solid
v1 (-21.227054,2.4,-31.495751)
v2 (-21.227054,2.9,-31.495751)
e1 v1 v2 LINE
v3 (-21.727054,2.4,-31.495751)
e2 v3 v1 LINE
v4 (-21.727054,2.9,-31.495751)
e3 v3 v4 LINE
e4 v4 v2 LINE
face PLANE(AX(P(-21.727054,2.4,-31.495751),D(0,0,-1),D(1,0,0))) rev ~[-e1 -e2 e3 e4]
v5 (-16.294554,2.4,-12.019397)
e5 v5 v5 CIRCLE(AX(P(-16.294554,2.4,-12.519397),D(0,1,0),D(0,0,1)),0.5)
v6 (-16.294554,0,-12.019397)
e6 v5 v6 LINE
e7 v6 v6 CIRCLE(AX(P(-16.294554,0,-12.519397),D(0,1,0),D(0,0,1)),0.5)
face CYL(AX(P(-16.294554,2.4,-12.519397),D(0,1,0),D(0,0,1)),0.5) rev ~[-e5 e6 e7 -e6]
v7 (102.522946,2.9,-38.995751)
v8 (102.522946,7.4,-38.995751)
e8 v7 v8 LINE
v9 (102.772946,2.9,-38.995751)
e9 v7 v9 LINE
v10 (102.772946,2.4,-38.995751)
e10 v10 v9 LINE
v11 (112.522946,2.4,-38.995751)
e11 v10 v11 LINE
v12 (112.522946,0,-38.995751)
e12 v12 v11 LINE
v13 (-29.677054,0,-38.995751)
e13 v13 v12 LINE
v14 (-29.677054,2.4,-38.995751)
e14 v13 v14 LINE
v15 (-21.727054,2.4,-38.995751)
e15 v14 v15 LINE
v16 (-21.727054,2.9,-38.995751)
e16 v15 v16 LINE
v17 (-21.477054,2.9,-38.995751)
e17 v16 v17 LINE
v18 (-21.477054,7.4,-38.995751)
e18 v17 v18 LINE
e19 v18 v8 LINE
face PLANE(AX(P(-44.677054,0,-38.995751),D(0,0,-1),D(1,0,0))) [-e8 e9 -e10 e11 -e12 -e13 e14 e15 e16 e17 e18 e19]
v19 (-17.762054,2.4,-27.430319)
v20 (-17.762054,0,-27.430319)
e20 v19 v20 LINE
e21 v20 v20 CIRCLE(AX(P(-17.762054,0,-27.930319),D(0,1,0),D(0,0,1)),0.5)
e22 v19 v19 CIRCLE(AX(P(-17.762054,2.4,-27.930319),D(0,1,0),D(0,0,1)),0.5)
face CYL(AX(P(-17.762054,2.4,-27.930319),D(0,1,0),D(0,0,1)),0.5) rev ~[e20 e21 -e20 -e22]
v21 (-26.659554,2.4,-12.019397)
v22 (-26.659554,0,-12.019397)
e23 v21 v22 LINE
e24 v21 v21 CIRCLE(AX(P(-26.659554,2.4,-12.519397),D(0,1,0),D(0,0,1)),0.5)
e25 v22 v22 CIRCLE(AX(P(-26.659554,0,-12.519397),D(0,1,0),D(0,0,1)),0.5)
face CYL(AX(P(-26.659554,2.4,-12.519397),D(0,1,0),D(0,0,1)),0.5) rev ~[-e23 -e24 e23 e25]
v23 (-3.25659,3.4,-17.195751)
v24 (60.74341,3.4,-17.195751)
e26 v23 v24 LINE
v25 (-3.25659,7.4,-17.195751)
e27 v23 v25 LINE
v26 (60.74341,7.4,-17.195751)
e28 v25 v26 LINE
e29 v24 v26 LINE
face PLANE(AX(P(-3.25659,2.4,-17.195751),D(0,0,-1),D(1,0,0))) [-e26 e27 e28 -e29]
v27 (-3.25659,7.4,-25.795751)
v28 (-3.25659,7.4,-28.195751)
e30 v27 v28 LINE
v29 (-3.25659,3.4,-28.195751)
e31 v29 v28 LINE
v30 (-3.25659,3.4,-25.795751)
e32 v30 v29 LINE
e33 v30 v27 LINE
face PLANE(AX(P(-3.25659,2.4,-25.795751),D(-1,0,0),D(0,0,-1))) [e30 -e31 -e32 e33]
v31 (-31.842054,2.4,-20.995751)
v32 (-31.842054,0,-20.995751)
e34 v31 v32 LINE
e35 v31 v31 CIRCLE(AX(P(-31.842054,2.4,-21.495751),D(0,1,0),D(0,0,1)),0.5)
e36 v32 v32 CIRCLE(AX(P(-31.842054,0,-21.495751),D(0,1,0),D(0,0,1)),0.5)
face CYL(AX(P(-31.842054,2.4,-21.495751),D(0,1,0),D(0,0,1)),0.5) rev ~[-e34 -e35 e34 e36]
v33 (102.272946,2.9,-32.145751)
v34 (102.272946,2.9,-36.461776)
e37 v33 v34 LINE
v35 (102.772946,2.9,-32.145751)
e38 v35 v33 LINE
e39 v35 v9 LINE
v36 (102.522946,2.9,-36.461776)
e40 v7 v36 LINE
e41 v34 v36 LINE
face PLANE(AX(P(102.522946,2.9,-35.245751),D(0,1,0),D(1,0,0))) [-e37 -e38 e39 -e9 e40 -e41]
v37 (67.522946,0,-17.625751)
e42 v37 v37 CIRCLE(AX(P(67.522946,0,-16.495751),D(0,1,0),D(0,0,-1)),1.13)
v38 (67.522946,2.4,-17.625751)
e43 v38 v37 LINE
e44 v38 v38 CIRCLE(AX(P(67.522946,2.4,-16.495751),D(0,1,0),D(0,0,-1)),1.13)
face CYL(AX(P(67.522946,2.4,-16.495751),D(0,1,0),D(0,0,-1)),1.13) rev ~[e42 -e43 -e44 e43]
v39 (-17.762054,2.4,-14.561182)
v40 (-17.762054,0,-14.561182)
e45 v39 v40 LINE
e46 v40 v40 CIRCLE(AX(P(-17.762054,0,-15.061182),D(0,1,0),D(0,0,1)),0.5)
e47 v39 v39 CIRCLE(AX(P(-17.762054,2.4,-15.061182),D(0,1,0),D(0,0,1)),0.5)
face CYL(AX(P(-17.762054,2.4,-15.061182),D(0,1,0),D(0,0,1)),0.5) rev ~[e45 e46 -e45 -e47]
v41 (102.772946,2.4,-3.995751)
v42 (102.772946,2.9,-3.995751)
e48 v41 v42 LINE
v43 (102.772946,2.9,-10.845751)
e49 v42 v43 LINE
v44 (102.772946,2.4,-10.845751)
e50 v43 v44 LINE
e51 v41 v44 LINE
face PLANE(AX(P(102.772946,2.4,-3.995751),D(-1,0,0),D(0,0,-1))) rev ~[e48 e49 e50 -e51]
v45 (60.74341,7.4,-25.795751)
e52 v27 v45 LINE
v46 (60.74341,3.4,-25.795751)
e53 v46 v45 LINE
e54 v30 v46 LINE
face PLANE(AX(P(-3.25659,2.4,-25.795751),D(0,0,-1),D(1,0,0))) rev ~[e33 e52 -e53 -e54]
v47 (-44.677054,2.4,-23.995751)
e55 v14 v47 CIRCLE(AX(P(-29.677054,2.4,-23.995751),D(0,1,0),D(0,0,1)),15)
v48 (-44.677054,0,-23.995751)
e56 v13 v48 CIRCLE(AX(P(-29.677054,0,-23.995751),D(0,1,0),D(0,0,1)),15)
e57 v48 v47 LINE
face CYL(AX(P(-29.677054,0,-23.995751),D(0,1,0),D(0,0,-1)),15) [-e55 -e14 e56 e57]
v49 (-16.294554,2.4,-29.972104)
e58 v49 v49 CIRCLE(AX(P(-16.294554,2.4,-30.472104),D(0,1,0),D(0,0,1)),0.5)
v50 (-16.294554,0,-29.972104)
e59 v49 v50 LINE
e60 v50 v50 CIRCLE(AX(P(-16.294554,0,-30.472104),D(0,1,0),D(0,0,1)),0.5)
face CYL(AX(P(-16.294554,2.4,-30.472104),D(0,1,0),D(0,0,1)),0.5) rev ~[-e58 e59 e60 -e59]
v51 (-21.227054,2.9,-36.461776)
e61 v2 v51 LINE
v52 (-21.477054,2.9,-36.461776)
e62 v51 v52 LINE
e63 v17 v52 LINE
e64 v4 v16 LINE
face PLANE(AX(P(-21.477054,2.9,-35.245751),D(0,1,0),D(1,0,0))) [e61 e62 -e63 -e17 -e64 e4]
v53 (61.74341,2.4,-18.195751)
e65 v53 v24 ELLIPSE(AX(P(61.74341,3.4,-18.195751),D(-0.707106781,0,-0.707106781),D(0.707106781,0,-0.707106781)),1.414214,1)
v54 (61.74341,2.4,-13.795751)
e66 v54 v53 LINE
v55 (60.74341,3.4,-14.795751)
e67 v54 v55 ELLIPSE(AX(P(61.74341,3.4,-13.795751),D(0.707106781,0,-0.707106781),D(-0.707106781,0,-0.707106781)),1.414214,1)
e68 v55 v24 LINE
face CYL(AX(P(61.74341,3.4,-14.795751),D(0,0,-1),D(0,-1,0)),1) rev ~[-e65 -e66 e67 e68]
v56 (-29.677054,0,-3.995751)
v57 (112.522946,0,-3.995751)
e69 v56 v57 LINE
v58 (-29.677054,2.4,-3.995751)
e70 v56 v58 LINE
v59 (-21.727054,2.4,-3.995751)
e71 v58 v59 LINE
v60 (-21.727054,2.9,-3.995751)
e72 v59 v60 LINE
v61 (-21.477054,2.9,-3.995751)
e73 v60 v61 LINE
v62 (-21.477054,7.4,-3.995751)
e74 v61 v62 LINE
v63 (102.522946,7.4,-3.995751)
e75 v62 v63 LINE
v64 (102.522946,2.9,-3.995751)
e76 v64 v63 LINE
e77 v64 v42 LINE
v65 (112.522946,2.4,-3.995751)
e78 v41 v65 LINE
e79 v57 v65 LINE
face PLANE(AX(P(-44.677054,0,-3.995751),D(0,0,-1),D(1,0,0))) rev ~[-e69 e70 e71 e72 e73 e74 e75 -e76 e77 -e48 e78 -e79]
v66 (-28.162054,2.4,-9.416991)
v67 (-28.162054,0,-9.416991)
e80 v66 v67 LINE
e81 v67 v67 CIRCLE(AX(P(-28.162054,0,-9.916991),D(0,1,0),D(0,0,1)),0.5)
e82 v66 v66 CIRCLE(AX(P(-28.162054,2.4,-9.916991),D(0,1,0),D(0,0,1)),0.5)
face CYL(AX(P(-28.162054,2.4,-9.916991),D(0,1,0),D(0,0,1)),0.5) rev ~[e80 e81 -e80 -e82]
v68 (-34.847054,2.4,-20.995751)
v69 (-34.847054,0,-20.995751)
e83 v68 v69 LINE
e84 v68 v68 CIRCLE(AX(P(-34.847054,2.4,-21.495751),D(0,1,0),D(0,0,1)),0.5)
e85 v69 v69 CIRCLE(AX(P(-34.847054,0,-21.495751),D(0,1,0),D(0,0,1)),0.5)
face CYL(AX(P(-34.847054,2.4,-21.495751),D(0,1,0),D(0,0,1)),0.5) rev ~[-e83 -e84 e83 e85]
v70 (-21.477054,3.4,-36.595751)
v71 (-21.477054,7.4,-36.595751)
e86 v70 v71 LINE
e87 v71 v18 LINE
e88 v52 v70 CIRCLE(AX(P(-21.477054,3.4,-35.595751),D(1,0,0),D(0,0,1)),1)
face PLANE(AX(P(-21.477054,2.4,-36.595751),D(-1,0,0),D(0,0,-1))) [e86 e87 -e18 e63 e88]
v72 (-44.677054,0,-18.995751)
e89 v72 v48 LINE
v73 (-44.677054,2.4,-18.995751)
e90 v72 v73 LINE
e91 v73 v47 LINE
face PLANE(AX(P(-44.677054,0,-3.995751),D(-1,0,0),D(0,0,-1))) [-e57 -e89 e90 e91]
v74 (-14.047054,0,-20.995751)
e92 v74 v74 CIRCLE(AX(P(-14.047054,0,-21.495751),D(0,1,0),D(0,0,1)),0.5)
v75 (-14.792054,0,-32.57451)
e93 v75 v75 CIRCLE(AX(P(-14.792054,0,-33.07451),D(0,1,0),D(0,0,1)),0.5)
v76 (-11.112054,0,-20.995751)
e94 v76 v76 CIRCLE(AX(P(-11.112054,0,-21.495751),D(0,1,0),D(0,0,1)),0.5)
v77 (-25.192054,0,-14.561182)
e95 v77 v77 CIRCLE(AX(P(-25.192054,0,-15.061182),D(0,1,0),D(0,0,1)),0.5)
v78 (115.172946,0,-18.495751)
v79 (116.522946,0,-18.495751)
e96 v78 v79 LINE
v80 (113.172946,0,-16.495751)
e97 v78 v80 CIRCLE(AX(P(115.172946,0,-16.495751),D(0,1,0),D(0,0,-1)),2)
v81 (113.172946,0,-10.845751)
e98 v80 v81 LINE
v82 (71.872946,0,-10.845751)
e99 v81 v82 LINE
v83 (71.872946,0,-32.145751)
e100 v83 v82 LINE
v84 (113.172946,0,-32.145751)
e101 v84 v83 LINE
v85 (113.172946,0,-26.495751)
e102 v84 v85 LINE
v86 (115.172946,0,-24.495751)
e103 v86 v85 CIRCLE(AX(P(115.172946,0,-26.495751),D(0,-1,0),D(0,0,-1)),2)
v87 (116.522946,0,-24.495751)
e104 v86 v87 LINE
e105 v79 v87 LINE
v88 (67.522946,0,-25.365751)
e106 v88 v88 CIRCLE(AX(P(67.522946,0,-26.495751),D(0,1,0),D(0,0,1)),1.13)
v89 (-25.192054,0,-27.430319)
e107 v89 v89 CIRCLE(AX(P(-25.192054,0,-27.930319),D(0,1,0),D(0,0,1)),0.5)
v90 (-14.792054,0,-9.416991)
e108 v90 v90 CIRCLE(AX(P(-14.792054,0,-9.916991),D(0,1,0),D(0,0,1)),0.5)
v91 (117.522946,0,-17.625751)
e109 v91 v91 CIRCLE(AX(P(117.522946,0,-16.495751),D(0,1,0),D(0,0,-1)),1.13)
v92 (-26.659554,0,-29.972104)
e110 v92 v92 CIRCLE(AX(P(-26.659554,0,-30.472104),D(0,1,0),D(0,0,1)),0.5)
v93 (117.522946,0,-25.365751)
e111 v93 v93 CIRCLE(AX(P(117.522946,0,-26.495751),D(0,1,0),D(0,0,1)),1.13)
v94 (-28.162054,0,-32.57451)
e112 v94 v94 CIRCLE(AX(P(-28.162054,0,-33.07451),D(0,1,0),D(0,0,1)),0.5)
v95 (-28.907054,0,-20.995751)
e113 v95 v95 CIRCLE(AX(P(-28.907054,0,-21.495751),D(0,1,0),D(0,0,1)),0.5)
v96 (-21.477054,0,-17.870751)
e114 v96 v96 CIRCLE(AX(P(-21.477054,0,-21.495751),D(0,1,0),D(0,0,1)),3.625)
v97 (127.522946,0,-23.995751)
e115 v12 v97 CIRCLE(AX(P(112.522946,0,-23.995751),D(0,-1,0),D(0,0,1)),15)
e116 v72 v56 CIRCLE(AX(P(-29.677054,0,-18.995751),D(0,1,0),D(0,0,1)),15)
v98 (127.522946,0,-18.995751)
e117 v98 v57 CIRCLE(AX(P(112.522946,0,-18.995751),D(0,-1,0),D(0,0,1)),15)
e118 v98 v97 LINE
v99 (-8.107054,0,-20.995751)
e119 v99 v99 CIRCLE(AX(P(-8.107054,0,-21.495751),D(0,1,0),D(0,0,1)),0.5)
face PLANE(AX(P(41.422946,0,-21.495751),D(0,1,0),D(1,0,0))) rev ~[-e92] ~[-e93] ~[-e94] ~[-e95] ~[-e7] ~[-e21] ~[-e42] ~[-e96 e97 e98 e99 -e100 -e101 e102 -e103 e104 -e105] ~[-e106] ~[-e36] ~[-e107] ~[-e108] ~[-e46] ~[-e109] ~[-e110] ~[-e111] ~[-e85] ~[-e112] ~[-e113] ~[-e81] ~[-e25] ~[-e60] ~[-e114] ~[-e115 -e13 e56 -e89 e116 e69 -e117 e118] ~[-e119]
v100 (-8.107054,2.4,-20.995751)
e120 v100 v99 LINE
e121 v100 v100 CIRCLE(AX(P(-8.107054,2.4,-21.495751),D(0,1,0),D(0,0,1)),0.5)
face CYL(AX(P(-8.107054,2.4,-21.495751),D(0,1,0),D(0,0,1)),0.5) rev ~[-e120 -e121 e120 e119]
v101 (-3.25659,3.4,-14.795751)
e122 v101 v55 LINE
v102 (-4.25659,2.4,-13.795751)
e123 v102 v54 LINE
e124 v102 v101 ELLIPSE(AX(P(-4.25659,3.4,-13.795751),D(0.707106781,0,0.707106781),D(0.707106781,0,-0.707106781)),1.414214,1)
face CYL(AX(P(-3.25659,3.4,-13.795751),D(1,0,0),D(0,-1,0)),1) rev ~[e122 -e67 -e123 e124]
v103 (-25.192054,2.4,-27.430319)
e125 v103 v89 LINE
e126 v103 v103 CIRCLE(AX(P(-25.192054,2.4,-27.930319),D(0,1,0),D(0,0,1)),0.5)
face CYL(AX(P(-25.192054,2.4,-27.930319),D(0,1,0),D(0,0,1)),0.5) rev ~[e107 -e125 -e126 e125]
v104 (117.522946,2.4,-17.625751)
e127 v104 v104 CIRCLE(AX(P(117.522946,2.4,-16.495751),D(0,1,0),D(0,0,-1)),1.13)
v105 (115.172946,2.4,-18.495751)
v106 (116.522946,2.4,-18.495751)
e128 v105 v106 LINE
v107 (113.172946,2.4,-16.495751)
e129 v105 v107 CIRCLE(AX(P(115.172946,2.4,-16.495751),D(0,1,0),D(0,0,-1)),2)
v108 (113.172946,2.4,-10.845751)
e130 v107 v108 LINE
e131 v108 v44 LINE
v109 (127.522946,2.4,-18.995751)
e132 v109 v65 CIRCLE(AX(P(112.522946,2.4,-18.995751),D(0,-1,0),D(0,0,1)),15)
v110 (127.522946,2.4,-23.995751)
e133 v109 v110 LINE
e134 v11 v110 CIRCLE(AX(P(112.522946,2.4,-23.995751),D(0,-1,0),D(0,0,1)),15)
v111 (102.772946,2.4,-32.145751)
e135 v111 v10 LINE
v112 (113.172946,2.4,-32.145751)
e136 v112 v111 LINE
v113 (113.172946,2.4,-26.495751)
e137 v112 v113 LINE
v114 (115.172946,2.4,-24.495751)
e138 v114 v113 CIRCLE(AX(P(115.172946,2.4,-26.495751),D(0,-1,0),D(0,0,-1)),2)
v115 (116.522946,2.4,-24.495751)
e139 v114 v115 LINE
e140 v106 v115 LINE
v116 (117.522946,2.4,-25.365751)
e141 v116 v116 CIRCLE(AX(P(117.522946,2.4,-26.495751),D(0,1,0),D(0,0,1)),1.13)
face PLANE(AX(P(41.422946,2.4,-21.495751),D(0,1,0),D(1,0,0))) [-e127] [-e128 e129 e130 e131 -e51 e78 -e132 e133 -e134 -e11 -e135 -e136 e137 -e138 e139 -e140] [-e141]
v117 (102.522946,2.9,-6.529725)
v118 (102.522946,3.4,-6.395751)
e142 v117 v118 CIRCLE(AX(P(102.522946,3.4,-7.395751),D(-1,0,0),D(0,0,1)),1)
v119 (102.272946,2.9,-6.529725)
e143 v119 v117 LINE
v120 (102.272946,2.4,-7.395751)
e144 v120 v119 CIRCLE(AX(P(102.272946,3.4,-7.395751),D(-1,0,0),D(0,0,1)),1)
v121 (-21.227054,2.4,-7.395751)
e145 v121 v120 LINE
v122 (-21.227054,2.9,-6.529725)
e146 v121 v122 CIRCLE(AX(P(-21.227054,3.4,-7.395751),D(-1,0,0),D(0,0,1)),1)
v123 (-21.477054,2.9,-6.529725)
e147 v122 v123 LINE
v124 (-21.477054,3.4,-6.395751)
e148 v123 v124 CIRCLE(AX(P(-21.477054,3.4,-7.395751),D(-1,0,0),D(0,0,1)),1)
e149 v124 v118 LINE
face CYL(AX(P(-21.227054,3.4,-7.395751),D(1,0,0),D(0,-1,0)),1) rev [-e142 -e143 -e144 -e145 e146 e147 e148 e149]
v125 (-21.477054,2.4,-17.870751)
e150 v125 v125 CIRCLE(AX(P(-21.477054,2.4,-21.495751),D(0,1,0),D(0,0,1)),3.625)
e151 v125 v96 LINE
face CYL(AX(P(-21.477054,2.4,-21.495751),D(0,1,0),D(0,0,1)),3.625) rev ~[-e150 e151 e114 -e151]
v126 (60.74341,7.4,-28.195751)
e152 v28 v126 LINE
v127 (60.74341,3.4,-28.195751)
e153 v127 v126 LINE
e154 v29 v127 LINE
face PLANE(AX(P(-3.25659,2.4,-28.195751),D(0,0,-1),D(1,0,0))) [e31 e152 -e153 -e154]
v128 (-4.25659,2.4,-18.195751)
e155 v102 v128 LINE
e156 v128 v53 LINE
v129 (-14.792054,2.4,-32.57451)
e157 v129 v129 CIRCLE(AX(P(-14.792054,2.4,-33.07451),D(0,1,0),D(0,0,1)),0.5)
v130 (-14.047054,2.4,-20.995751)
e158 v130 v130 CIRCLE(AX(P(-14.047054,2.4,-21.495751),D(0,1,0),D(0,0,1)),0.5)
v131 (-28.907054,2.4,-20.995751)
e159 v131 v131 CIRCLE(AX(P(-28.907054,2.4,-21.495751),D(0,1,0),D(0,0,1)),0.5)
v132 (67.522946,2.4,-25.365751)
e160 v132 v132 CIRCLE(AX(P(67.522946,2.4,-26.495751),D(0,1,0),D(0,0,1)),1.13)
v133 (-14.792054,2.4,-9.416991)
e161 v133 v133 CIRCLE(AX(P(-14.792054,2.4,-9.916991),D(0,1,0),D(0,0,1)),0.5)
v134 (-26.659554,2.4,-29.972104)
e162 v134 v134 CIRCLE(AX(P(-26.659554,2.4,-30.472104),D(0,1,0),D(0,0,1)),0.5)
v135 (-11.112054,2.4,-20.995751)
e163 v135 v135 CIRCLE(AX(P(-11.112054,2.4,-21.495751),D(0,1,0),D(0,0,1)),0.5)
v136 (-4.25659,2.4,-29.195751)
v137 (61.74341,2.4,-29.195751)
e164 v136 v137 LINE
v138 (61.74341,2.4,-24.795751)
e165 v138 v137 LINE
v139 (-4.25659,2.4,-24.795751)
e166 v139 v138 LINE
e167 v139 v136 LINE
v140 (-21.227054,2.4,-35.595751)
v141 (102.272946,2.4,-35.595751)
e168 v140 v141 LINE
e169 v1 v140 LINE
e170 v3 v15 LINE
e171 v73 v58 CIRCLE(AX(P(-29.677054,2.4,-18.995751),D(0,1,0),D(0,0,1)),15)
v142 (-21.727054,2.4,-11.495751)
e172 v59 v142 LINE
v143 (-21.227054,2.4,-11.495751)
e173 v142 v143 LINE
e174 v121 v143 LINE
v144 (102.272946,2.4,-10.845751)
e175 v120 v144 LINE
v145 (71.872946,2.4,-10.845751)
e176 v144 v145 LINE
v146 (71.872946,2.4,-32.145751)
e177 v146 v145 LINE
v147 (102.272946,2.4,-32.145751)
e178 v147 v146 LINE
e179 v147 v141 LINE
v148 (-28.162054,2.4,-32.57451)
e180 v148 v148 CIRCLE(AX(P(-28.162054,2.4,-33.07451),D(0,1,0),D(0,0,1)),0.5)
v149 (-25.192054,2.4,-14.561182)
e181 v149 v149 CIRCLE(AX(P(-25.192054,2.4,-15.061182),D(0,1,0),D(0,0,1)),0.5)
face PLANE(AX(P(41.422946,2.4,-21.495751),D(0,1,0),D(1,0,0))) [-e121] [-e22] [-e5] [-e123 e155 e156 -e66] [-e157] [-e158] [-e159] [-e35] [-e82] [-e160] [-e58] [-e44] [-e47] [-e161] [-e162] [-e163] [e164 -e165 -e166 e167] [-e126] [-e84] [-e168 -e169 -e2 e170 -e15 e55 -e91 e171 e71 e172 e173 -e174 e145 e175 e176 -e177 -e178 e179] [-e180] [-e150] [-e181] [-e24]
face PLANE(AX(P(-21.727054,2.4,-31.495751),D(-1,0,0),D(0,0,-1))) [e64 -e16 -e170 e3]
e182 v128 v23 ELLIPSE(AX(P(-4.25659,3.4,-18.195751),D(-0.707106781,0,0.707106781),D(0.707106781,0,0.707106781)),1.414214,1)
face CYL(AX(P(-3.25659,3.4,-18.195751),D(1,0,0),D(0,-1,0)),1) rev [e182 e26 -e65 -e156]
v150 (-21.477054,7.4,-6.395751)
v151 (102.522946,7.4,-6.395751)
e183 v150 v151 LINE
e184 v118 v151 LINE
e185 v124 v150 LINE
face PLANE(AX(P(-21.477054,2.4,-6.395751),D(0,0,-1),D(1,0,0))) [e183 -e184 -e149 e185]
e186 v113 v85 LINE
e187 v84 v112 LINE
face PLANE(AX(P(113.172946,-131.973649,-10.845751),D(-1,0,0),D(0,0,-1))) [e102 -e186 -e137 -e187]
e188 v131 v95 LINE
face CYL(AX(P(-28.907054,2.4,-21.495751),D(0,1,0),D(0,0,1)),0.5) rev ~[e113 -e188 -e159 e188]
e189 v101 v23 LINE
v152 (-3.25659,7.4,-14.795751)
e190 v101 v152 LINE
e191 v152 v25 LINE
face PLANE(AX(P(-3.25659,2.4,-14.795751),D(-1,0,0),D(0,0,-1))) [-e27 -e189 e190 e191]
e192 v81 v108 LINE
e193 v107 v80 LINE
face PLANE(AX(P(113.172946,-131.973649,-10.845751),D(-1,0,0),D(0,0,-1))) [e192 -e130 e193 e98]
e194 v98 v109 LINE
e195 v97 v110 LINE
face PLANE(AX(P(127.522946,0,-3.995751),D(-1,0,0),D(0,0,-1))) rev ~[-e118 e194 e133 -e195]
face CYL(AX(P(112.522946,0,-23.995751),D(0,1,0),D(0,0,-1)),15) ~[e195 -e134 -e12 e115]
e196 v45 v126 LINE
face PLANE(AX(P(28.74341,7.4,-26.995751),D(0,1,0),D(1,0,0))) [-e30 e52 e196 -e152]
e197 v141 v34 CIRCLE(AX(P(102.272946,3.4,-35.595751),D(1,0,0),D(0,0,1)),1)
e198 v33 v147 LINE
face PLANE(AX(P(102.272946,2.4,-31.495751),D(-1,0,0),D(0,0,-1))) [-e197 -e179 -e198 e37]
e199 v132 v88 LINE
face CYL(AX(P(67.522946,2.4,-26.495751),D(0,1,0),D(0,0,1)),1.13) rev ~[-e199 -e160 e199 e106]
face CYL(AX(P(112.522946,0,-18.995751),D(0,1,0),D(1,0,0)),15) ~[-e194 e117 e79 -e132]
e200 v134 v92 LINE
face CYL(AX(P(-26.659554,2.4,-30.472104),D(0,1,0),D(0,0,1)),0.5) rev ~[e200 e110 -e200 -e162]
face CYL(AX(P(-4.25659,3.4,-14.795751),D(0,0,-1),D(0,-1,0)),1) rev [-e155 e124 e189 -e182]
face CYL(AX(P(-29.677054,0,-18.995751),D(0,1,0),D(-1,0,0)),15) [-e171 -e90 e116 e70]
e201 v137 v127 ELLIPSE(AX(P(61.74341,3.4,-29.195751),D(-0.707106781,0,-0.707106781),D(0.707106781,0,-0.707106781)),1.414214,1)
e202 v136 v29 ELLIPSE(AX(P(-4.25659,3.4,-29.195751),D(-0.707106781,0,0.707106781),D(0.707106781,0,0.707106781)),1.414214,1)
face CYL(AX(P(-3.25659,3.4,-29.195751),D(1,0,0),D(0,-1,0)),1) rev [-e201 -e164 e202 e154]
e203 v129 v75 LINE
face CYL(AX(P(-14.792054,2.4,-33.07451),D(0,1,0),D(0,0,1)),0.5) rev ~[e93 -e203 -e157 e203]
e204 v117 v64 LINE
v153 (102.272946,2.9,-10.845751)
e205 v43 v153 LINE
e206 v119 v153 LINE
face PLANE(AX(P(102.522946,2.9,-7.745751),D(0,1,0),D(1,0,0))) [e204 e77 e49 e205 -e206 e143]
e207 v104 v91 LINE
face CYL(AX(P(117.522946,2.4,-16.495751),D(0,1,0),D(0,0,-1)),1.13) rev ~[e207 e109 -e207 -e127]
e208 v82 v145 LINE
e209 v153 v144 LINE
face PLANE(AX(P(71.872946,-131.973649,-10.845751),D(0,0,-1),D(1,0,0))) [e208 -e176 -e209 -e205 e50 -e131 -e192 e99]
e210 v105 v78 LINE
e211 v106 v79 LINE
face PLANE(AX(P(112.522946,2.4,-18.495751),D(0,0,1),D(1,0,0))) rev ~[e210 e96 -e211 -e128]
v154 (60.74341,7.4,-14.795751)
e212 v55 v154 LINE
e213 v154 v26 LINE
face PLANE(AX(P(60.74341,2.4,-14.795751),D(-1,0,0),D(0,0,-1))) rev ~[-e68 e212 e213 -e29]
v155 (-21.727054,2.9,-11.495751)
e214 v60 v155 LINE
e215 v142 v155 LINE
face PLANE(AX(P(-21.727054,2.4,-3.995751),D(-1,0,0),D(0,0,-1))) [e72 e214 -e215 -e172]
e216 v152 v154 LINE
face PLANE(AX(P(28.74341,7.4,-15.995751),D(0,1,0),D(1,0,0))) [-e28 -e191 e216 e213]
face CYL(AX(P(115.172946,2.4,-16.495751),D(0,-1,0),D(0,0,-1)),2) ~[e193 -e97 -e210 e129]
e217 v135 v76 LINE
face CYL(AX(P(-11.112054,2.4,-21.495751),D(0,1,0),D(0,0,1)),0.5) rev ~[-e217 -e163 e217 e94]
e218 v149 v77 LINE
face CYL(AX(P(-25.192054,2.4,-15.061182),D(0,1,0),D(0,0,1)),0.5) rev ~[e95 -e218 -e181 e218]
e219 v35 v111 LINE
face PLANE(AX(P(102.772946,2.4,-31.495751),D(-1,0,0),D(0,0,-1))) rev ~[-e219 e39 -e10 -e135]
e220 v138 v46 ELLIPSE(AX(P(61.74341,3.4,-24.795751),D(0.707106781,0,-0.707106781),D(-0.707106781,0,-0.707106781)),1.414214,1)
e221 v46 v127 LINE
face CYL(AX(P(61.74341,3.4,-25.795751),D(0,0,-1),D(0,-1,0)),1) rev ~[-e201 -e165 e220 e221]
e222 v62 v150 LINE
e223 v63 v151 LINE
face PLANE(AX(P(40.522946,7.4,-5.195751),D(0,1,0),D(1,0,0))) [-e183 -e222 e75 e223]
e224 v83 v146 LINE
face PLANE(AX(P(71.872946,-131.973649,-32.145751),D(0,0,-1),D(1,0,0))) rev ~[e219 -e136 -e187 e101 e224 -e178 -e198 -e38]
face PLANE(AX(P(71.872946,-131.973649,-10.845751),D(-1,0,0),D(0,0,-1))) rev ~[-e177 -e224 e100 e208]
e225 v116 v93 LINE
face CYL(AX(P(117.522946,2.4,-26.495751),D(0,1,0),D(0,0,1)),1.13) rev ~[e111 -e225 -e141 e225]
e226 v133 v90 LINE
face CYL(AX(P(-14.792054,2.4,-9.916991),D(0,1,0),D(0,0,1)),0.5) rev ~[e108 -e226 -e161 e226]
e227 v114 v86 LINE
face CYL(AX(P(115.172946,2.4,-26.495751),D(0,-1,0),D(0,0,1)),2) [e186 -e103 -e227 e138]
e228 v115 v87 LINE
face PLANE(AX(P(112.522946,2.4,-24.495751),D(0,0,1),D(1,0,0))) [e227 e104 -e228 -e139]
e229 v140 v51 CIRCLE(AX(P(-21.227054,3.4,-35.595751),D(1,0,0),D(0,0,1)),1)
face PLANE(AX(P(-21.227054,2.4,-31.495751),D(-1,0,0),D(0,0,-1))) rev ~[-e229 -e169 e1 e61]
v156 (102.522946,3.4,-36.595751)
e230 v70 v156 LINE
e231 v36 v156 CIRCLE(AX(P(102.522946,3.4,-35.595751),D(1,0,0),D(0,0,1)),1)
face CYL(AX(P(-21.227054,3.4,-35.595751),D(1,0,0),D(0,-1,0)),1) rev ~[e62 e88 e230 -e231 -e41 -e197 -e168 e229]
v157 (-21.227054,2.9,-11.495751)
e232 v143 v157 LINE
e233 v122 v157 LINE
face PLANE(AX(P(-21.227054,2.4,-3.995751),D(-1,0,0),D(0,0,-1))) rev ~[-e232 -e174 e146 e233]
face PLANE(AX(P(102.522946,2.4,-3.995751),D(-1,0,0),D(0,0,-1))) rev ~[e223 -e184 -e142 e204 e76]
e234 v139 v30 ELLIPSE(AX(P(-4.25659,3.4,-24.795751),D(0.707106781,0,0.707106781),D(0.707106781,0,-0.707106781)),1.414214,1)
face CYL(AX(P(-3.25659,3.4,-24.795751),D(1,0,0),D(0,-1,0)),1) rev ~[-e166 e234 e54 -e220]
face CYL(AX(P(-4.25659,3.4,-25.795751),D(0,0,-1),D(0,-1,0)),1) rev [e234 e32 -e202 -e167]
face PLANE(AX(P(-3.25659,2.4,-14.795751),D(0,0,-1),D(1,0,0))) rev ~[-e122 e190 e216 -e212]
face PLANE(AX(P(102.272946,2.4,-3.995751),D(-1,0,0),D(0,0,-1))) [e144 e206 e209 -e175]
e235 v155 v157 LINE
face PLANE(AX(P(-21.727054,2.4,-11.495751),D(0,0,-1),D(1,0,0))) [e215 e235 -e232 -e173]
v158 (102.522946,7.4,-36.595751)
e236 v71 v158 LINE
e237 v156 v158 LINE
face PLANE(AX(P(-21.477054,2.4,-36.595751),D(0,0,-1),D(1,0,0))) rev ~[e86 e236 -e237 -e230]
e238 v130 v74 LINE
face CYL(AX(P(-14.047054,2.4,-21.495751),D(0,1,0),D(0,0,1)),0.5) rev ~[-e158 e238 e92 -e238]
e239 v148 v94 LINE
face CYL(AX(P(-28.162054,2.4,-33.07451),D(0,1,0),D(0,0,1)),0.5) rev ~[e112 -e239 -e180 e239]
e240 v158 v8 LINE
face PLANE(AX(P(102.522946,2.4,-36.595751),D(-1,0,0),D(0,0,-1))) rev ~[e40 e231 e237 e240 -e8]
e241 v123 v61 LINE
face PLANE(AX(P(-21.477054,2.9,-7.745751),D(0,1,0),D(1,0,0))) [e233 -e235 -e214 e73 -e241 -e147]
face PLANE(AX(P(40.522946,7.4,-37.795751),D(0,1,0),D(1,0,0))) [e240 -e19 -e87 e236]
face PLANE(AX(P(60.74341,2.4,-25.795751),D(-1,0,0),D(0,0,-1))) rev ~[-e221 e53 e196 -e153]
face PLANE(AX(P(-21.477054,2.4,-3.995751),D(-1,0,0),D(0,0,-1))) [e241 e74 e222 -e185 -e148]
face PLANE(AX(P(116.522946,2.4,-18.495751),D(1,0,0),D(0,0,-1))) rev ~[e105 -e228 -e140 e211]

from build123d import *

# Parameters (mm, degrees)
SKETCH1_W               = 172.2
SKETCH1_H               = 35
BOSS_EXTRUDE1_DEPTH     = 2.4
SKETCH2_R               = 1.13
SKETCH2_R_2             = 3.625
SKETCH2_R_3             = 0.5
SKETCH2_W               = 40
SKETCH2_H               = 20
CUT_EXTRUDE1_DEPTH      = 2.4
SKETCH4_W               = 4
SKETCH4_H               = 6
CUT_EXTRUDE2_DEPTH      = 2.4
SKETCH5_W               = 0.5
SKETCH5_H               = 7.5
BOSS_EXTRUDE2_DEPTH     = 0.5
CUT_EXTRUDE3_DEPTH      = 134.373649476
CUT_EXTRUDE3_DEPTH_BACK = 134.373649476
SKETCH7_W               = 41.3
SKETCH7_H               = 21.3
SKETCH7_W_2             = 40
SKETCH7_H_2             = 20
SKETCH8_W               = 124
SKETCH8_H               = 2.4
SKETCH8_W_2             = 64
BOSS_EXTRUDE3_DEPTH     = 5
FILLET1_R               = 15
FILLET2_R               = 2
FILLET3_R               = 1


with BuildPart() as part:
    # Sketch1 → Boss-Extrude1 (new body)
    with BuildSketch(Plane(origin=(0, 0, 0), x_dir=(1, 0, 0), z_dir=(0, 1, 0))):
        with Locations((41.422946176, 21.495750708)):
            Rectangle(SKETCH1_W, SKETCH1_H)
    extrude(amount=BOSS_EXTRUDE1_DEPTH)

    # Sketch2 → Cut-Extrude1 (cut)
    with BuildSketch(Plane(origin=(0, 2.4, 0), x_dir=(1, 0, 0), z_dir=(0, 1, 0))):
        with Locations(Location((67.522946176, 26.495750708, 0), (0, 0, 270))):
            Circle(SKETCH2_R)
        with Locations(Location((117.522946176, 26.495750708, 0), (0, 0, 270))):
            Circle(SKETCH2_R)
        with Locations(Location((117.522946176, 16.495750708, 0), (0, 0, 90))):
            Circle(SKETCH2_R)
        with Locations(Location((67.522946176, 16.495750708, 0), (0, 0, 90))):
            Circle(SKETCH2_R)
        with Locations(Location((-21.477053824, 21.495750708, 0), (0, 0, 270))):
            Circle(SKETCH2_R_2)
        with Locations(Location((-28.907053824, 21.495750708, 0), (0, 0, 270))):
            Circle(SKETCH2_R_3)
        with Locations(Location((-31.842053824, 21.495750708, 0), (0, 0, 270))):
            Circle(SKETCH2_R_3)
        with Locations(Location((-34.847053824, 21.495750708, 0), (0, 0, 270))):
            Circle(SKETCH2_R_3)
        with Locations(Location((-25.192053824, 27.930319458, 0), (0, 0, 270))):
            Circle(SKETCH2_R_3)
        with Locations(Location((-28.162053824, 33.074510357, 0), (0, 0, 270))):
            Circle(SKETCH2_R_3)
        with Locations(Location((-26.659553824, 30.472104018, 0), (0, 0, 270))):
            Circle(SKETCH2_R_3)
        with Locations(Location((-17.762053824, 27.930319458, 0), (0, 0, 270))):
            Circle(SKETCH2_R_3)
        with Locations(Location((-14.792053824, 33.074510357, 0), (0, 0, 270))):
            Circle(SKETCH2_R_3)
        with Locations(Location((-16.294553824, 30.472104018, 0), (0, 0, 270))):
            Circle(SKETCH2_R_3)
        with Locations(Location((-14.047053824, 21.495750708, 0), (0, 0, 270))):
            Circle(SKETCH2_R_3)
        with Locations(Location((-8.107053824, 21.495750708, 0), (0, 0, 270))):
            Circle(SKETCH2_R_3)
        with Locations(Location((-11.112053824, 21.495750708, 0), (0, 0, 270))):
            Circle(SKETCH2_R_3)
        with Locations(Location((-17.762053824, 15.061181958, 0), (0, 0, 270))):
            Circle(SKETCH2_R_3)
        with Locations(Location((-14.792053824, 9.91699106, 0), (0, 0, 270))):
            Circle(SKETCH2_R_3)
        with Locations(Location((-16.294553824, 12.519397398, 0), (0, 0, 270))):
            Circle(SKETCH2_R_3)
        with Locations(Location((-25.192053824, 15.061181958, 0), (0, 0, 270))):
            Circle(SKETCH2_R_3)
        with Locations(Location((-28.162053824, 9.91699106, 0), (0, 0, 270))):
            Circle(SKETCH2_R_3)
        with Locations(Location((-26.659553824, 12.519397398, 0), (0, 0, 270))):
            Circle(SKETCH2_R_3)
        with Locations((92.522946176, 21.495750708)):
            Rectangle(SKETCH2_W, SKETCH2_H)
    extrude(amount=-CUT_EXTRUDE1_DEPTH, mode=Mode.SUBTRACT)

    # Sketch4 → Cut-Extrude2 (cut)
    with BuildSketch(Plane(origin=(0, 2.4, 0), x_dir=(1, 0, 0), z_dir=(0, 1, 0))):
        with Locations((114.522946176, 21.495750708)):
            Rectangle(SKETCH4_W, SKETCH4_H)
    extrude(amount=-CUT_EXTRUDE2_DEPTH, mode=Mode.SUBTRACT)

    # Sketch5 → Boss-Extrude2 (add)
    with BuildSketch(Plane(origin=(0, 2.4, 0), x_dir=(1, 0, 0), z_dir=(0, 1, 0))):
        with Locations((102.522946176, 35.245750708)):
            Rectangle(SKETCH5_W, SKETCH5_H)
        with Locations((102.522946176, 7.745750708)):
            Rectangle(SKETCH5_W, SKETCH5_H)
        with Locations((-21.477053824, 7.745750708)):
            Rectangle(SKETCH5_W, SKETCH5_H)
        with Locations((-21.477053824, 35.245750708)):
            Rectangle(SKETCH5_W, SKETCH5_H)
    extrude(amount=BOSS_EXTRUDE2_DEPTH)

    # Sketch7 → Cut-Extrude3 (cut, two sides: drawn at the far end of the back side and taken through both)
    with BuildSketch(Plane(origin=(0, 2.4, 0), x_dir=(1, 0, 0), z_dir=(0, 1, 0)).offset(-CUT_EXTRUDE3_DEPTH_BACK)):
        with Locations((92.522946176, 21.495750708)):
            Rectangle(SKETCH7_W, SKETCH7_H)
        with Locations((92.522946176, 21.495750708)):
            Rectangle(SKETCH7_W_2, SKETCH7_H_2, mode=Mode.SUBTRACT)
    extrude(amount=CUT_EXTRUDE3_DEPTH + CUT_EXTRUDE3_DEPTH_BACK, mode=Mode.SUBTRACT)

    # Sketch8 → Boss-Extrude3 (add)
    with BuildSketch(Plane(origin=(0, 2.4, 0), x_dir=(1, 0, 0), z_dir=(0, 1, 0))):
        with Locations((40.522946176, 37.795750708)):
            Rectangle(SKETCH8_W, SKETCH8_H)
        with Locations((28.743410163, 26.995750708)):
            Rectangle(SKETCH8_W_2, SKETCH8_H)
        with Locations((28.743410163, 15.995750708)):
            Rectangle(SKETCH8_W_2, SKETCH8_H)
        with Locations((40.522946176, 5.195750708)):
            Rectangle(SKETCH8_W, SKETCH8_H)
    extrude(amount=BOSS_EXTRUDE3_DEPTH)

    # Fillet1
    fillet1_edges = [part.edges().sort_by_distance(p)[0] for p in [
        (-44.677053824, 1.2, -38.995750708),
        (127.522946176, 1.2, -38.995750708),
        (127.522946176, 1.2, -3.995750708),
        (-44.677053824, 1.2, -3.995750708),
    ]]
    fillet(fillet1_edges, radius=FILLET1_R)

    # Fillet2
    fillet2_edges = [part.edges().sort_by_distance(p)[0] for p in [
        (113.172946176, 1.2, -18.495750708),
        (113.172946176, 1.2, -24.495750708),
    ]]
    fillet(fillet2_edges, radius=FILLET2_R)

    # Fillet3
    fillet3_edges = [part.edges().sort_by_distance(p)[0] for p in [
        (40.522946176, 2.4, -6.395750708),
        (60.743410163, 2.4, -15.995750708),
        (28.743410163, 2.4, -17.195750708),
        (60.743410163, 2.4, -26.995750708),
        (28.743410163, 2.4, -28.195750708),
        (28.743410163, 2.4, -14.795750708),
        (-3.256589837, 2.4, -15.995750708),
        (-3.256589837, 2.4, -26.995750708),
        (28.743410163, 2.4, -25.795750708),
        (40.522946176, 2.4, -36.595750708),
    ]]
    fillet(fillet3_edges, radius=FILLET3_R)


solid = part.part
